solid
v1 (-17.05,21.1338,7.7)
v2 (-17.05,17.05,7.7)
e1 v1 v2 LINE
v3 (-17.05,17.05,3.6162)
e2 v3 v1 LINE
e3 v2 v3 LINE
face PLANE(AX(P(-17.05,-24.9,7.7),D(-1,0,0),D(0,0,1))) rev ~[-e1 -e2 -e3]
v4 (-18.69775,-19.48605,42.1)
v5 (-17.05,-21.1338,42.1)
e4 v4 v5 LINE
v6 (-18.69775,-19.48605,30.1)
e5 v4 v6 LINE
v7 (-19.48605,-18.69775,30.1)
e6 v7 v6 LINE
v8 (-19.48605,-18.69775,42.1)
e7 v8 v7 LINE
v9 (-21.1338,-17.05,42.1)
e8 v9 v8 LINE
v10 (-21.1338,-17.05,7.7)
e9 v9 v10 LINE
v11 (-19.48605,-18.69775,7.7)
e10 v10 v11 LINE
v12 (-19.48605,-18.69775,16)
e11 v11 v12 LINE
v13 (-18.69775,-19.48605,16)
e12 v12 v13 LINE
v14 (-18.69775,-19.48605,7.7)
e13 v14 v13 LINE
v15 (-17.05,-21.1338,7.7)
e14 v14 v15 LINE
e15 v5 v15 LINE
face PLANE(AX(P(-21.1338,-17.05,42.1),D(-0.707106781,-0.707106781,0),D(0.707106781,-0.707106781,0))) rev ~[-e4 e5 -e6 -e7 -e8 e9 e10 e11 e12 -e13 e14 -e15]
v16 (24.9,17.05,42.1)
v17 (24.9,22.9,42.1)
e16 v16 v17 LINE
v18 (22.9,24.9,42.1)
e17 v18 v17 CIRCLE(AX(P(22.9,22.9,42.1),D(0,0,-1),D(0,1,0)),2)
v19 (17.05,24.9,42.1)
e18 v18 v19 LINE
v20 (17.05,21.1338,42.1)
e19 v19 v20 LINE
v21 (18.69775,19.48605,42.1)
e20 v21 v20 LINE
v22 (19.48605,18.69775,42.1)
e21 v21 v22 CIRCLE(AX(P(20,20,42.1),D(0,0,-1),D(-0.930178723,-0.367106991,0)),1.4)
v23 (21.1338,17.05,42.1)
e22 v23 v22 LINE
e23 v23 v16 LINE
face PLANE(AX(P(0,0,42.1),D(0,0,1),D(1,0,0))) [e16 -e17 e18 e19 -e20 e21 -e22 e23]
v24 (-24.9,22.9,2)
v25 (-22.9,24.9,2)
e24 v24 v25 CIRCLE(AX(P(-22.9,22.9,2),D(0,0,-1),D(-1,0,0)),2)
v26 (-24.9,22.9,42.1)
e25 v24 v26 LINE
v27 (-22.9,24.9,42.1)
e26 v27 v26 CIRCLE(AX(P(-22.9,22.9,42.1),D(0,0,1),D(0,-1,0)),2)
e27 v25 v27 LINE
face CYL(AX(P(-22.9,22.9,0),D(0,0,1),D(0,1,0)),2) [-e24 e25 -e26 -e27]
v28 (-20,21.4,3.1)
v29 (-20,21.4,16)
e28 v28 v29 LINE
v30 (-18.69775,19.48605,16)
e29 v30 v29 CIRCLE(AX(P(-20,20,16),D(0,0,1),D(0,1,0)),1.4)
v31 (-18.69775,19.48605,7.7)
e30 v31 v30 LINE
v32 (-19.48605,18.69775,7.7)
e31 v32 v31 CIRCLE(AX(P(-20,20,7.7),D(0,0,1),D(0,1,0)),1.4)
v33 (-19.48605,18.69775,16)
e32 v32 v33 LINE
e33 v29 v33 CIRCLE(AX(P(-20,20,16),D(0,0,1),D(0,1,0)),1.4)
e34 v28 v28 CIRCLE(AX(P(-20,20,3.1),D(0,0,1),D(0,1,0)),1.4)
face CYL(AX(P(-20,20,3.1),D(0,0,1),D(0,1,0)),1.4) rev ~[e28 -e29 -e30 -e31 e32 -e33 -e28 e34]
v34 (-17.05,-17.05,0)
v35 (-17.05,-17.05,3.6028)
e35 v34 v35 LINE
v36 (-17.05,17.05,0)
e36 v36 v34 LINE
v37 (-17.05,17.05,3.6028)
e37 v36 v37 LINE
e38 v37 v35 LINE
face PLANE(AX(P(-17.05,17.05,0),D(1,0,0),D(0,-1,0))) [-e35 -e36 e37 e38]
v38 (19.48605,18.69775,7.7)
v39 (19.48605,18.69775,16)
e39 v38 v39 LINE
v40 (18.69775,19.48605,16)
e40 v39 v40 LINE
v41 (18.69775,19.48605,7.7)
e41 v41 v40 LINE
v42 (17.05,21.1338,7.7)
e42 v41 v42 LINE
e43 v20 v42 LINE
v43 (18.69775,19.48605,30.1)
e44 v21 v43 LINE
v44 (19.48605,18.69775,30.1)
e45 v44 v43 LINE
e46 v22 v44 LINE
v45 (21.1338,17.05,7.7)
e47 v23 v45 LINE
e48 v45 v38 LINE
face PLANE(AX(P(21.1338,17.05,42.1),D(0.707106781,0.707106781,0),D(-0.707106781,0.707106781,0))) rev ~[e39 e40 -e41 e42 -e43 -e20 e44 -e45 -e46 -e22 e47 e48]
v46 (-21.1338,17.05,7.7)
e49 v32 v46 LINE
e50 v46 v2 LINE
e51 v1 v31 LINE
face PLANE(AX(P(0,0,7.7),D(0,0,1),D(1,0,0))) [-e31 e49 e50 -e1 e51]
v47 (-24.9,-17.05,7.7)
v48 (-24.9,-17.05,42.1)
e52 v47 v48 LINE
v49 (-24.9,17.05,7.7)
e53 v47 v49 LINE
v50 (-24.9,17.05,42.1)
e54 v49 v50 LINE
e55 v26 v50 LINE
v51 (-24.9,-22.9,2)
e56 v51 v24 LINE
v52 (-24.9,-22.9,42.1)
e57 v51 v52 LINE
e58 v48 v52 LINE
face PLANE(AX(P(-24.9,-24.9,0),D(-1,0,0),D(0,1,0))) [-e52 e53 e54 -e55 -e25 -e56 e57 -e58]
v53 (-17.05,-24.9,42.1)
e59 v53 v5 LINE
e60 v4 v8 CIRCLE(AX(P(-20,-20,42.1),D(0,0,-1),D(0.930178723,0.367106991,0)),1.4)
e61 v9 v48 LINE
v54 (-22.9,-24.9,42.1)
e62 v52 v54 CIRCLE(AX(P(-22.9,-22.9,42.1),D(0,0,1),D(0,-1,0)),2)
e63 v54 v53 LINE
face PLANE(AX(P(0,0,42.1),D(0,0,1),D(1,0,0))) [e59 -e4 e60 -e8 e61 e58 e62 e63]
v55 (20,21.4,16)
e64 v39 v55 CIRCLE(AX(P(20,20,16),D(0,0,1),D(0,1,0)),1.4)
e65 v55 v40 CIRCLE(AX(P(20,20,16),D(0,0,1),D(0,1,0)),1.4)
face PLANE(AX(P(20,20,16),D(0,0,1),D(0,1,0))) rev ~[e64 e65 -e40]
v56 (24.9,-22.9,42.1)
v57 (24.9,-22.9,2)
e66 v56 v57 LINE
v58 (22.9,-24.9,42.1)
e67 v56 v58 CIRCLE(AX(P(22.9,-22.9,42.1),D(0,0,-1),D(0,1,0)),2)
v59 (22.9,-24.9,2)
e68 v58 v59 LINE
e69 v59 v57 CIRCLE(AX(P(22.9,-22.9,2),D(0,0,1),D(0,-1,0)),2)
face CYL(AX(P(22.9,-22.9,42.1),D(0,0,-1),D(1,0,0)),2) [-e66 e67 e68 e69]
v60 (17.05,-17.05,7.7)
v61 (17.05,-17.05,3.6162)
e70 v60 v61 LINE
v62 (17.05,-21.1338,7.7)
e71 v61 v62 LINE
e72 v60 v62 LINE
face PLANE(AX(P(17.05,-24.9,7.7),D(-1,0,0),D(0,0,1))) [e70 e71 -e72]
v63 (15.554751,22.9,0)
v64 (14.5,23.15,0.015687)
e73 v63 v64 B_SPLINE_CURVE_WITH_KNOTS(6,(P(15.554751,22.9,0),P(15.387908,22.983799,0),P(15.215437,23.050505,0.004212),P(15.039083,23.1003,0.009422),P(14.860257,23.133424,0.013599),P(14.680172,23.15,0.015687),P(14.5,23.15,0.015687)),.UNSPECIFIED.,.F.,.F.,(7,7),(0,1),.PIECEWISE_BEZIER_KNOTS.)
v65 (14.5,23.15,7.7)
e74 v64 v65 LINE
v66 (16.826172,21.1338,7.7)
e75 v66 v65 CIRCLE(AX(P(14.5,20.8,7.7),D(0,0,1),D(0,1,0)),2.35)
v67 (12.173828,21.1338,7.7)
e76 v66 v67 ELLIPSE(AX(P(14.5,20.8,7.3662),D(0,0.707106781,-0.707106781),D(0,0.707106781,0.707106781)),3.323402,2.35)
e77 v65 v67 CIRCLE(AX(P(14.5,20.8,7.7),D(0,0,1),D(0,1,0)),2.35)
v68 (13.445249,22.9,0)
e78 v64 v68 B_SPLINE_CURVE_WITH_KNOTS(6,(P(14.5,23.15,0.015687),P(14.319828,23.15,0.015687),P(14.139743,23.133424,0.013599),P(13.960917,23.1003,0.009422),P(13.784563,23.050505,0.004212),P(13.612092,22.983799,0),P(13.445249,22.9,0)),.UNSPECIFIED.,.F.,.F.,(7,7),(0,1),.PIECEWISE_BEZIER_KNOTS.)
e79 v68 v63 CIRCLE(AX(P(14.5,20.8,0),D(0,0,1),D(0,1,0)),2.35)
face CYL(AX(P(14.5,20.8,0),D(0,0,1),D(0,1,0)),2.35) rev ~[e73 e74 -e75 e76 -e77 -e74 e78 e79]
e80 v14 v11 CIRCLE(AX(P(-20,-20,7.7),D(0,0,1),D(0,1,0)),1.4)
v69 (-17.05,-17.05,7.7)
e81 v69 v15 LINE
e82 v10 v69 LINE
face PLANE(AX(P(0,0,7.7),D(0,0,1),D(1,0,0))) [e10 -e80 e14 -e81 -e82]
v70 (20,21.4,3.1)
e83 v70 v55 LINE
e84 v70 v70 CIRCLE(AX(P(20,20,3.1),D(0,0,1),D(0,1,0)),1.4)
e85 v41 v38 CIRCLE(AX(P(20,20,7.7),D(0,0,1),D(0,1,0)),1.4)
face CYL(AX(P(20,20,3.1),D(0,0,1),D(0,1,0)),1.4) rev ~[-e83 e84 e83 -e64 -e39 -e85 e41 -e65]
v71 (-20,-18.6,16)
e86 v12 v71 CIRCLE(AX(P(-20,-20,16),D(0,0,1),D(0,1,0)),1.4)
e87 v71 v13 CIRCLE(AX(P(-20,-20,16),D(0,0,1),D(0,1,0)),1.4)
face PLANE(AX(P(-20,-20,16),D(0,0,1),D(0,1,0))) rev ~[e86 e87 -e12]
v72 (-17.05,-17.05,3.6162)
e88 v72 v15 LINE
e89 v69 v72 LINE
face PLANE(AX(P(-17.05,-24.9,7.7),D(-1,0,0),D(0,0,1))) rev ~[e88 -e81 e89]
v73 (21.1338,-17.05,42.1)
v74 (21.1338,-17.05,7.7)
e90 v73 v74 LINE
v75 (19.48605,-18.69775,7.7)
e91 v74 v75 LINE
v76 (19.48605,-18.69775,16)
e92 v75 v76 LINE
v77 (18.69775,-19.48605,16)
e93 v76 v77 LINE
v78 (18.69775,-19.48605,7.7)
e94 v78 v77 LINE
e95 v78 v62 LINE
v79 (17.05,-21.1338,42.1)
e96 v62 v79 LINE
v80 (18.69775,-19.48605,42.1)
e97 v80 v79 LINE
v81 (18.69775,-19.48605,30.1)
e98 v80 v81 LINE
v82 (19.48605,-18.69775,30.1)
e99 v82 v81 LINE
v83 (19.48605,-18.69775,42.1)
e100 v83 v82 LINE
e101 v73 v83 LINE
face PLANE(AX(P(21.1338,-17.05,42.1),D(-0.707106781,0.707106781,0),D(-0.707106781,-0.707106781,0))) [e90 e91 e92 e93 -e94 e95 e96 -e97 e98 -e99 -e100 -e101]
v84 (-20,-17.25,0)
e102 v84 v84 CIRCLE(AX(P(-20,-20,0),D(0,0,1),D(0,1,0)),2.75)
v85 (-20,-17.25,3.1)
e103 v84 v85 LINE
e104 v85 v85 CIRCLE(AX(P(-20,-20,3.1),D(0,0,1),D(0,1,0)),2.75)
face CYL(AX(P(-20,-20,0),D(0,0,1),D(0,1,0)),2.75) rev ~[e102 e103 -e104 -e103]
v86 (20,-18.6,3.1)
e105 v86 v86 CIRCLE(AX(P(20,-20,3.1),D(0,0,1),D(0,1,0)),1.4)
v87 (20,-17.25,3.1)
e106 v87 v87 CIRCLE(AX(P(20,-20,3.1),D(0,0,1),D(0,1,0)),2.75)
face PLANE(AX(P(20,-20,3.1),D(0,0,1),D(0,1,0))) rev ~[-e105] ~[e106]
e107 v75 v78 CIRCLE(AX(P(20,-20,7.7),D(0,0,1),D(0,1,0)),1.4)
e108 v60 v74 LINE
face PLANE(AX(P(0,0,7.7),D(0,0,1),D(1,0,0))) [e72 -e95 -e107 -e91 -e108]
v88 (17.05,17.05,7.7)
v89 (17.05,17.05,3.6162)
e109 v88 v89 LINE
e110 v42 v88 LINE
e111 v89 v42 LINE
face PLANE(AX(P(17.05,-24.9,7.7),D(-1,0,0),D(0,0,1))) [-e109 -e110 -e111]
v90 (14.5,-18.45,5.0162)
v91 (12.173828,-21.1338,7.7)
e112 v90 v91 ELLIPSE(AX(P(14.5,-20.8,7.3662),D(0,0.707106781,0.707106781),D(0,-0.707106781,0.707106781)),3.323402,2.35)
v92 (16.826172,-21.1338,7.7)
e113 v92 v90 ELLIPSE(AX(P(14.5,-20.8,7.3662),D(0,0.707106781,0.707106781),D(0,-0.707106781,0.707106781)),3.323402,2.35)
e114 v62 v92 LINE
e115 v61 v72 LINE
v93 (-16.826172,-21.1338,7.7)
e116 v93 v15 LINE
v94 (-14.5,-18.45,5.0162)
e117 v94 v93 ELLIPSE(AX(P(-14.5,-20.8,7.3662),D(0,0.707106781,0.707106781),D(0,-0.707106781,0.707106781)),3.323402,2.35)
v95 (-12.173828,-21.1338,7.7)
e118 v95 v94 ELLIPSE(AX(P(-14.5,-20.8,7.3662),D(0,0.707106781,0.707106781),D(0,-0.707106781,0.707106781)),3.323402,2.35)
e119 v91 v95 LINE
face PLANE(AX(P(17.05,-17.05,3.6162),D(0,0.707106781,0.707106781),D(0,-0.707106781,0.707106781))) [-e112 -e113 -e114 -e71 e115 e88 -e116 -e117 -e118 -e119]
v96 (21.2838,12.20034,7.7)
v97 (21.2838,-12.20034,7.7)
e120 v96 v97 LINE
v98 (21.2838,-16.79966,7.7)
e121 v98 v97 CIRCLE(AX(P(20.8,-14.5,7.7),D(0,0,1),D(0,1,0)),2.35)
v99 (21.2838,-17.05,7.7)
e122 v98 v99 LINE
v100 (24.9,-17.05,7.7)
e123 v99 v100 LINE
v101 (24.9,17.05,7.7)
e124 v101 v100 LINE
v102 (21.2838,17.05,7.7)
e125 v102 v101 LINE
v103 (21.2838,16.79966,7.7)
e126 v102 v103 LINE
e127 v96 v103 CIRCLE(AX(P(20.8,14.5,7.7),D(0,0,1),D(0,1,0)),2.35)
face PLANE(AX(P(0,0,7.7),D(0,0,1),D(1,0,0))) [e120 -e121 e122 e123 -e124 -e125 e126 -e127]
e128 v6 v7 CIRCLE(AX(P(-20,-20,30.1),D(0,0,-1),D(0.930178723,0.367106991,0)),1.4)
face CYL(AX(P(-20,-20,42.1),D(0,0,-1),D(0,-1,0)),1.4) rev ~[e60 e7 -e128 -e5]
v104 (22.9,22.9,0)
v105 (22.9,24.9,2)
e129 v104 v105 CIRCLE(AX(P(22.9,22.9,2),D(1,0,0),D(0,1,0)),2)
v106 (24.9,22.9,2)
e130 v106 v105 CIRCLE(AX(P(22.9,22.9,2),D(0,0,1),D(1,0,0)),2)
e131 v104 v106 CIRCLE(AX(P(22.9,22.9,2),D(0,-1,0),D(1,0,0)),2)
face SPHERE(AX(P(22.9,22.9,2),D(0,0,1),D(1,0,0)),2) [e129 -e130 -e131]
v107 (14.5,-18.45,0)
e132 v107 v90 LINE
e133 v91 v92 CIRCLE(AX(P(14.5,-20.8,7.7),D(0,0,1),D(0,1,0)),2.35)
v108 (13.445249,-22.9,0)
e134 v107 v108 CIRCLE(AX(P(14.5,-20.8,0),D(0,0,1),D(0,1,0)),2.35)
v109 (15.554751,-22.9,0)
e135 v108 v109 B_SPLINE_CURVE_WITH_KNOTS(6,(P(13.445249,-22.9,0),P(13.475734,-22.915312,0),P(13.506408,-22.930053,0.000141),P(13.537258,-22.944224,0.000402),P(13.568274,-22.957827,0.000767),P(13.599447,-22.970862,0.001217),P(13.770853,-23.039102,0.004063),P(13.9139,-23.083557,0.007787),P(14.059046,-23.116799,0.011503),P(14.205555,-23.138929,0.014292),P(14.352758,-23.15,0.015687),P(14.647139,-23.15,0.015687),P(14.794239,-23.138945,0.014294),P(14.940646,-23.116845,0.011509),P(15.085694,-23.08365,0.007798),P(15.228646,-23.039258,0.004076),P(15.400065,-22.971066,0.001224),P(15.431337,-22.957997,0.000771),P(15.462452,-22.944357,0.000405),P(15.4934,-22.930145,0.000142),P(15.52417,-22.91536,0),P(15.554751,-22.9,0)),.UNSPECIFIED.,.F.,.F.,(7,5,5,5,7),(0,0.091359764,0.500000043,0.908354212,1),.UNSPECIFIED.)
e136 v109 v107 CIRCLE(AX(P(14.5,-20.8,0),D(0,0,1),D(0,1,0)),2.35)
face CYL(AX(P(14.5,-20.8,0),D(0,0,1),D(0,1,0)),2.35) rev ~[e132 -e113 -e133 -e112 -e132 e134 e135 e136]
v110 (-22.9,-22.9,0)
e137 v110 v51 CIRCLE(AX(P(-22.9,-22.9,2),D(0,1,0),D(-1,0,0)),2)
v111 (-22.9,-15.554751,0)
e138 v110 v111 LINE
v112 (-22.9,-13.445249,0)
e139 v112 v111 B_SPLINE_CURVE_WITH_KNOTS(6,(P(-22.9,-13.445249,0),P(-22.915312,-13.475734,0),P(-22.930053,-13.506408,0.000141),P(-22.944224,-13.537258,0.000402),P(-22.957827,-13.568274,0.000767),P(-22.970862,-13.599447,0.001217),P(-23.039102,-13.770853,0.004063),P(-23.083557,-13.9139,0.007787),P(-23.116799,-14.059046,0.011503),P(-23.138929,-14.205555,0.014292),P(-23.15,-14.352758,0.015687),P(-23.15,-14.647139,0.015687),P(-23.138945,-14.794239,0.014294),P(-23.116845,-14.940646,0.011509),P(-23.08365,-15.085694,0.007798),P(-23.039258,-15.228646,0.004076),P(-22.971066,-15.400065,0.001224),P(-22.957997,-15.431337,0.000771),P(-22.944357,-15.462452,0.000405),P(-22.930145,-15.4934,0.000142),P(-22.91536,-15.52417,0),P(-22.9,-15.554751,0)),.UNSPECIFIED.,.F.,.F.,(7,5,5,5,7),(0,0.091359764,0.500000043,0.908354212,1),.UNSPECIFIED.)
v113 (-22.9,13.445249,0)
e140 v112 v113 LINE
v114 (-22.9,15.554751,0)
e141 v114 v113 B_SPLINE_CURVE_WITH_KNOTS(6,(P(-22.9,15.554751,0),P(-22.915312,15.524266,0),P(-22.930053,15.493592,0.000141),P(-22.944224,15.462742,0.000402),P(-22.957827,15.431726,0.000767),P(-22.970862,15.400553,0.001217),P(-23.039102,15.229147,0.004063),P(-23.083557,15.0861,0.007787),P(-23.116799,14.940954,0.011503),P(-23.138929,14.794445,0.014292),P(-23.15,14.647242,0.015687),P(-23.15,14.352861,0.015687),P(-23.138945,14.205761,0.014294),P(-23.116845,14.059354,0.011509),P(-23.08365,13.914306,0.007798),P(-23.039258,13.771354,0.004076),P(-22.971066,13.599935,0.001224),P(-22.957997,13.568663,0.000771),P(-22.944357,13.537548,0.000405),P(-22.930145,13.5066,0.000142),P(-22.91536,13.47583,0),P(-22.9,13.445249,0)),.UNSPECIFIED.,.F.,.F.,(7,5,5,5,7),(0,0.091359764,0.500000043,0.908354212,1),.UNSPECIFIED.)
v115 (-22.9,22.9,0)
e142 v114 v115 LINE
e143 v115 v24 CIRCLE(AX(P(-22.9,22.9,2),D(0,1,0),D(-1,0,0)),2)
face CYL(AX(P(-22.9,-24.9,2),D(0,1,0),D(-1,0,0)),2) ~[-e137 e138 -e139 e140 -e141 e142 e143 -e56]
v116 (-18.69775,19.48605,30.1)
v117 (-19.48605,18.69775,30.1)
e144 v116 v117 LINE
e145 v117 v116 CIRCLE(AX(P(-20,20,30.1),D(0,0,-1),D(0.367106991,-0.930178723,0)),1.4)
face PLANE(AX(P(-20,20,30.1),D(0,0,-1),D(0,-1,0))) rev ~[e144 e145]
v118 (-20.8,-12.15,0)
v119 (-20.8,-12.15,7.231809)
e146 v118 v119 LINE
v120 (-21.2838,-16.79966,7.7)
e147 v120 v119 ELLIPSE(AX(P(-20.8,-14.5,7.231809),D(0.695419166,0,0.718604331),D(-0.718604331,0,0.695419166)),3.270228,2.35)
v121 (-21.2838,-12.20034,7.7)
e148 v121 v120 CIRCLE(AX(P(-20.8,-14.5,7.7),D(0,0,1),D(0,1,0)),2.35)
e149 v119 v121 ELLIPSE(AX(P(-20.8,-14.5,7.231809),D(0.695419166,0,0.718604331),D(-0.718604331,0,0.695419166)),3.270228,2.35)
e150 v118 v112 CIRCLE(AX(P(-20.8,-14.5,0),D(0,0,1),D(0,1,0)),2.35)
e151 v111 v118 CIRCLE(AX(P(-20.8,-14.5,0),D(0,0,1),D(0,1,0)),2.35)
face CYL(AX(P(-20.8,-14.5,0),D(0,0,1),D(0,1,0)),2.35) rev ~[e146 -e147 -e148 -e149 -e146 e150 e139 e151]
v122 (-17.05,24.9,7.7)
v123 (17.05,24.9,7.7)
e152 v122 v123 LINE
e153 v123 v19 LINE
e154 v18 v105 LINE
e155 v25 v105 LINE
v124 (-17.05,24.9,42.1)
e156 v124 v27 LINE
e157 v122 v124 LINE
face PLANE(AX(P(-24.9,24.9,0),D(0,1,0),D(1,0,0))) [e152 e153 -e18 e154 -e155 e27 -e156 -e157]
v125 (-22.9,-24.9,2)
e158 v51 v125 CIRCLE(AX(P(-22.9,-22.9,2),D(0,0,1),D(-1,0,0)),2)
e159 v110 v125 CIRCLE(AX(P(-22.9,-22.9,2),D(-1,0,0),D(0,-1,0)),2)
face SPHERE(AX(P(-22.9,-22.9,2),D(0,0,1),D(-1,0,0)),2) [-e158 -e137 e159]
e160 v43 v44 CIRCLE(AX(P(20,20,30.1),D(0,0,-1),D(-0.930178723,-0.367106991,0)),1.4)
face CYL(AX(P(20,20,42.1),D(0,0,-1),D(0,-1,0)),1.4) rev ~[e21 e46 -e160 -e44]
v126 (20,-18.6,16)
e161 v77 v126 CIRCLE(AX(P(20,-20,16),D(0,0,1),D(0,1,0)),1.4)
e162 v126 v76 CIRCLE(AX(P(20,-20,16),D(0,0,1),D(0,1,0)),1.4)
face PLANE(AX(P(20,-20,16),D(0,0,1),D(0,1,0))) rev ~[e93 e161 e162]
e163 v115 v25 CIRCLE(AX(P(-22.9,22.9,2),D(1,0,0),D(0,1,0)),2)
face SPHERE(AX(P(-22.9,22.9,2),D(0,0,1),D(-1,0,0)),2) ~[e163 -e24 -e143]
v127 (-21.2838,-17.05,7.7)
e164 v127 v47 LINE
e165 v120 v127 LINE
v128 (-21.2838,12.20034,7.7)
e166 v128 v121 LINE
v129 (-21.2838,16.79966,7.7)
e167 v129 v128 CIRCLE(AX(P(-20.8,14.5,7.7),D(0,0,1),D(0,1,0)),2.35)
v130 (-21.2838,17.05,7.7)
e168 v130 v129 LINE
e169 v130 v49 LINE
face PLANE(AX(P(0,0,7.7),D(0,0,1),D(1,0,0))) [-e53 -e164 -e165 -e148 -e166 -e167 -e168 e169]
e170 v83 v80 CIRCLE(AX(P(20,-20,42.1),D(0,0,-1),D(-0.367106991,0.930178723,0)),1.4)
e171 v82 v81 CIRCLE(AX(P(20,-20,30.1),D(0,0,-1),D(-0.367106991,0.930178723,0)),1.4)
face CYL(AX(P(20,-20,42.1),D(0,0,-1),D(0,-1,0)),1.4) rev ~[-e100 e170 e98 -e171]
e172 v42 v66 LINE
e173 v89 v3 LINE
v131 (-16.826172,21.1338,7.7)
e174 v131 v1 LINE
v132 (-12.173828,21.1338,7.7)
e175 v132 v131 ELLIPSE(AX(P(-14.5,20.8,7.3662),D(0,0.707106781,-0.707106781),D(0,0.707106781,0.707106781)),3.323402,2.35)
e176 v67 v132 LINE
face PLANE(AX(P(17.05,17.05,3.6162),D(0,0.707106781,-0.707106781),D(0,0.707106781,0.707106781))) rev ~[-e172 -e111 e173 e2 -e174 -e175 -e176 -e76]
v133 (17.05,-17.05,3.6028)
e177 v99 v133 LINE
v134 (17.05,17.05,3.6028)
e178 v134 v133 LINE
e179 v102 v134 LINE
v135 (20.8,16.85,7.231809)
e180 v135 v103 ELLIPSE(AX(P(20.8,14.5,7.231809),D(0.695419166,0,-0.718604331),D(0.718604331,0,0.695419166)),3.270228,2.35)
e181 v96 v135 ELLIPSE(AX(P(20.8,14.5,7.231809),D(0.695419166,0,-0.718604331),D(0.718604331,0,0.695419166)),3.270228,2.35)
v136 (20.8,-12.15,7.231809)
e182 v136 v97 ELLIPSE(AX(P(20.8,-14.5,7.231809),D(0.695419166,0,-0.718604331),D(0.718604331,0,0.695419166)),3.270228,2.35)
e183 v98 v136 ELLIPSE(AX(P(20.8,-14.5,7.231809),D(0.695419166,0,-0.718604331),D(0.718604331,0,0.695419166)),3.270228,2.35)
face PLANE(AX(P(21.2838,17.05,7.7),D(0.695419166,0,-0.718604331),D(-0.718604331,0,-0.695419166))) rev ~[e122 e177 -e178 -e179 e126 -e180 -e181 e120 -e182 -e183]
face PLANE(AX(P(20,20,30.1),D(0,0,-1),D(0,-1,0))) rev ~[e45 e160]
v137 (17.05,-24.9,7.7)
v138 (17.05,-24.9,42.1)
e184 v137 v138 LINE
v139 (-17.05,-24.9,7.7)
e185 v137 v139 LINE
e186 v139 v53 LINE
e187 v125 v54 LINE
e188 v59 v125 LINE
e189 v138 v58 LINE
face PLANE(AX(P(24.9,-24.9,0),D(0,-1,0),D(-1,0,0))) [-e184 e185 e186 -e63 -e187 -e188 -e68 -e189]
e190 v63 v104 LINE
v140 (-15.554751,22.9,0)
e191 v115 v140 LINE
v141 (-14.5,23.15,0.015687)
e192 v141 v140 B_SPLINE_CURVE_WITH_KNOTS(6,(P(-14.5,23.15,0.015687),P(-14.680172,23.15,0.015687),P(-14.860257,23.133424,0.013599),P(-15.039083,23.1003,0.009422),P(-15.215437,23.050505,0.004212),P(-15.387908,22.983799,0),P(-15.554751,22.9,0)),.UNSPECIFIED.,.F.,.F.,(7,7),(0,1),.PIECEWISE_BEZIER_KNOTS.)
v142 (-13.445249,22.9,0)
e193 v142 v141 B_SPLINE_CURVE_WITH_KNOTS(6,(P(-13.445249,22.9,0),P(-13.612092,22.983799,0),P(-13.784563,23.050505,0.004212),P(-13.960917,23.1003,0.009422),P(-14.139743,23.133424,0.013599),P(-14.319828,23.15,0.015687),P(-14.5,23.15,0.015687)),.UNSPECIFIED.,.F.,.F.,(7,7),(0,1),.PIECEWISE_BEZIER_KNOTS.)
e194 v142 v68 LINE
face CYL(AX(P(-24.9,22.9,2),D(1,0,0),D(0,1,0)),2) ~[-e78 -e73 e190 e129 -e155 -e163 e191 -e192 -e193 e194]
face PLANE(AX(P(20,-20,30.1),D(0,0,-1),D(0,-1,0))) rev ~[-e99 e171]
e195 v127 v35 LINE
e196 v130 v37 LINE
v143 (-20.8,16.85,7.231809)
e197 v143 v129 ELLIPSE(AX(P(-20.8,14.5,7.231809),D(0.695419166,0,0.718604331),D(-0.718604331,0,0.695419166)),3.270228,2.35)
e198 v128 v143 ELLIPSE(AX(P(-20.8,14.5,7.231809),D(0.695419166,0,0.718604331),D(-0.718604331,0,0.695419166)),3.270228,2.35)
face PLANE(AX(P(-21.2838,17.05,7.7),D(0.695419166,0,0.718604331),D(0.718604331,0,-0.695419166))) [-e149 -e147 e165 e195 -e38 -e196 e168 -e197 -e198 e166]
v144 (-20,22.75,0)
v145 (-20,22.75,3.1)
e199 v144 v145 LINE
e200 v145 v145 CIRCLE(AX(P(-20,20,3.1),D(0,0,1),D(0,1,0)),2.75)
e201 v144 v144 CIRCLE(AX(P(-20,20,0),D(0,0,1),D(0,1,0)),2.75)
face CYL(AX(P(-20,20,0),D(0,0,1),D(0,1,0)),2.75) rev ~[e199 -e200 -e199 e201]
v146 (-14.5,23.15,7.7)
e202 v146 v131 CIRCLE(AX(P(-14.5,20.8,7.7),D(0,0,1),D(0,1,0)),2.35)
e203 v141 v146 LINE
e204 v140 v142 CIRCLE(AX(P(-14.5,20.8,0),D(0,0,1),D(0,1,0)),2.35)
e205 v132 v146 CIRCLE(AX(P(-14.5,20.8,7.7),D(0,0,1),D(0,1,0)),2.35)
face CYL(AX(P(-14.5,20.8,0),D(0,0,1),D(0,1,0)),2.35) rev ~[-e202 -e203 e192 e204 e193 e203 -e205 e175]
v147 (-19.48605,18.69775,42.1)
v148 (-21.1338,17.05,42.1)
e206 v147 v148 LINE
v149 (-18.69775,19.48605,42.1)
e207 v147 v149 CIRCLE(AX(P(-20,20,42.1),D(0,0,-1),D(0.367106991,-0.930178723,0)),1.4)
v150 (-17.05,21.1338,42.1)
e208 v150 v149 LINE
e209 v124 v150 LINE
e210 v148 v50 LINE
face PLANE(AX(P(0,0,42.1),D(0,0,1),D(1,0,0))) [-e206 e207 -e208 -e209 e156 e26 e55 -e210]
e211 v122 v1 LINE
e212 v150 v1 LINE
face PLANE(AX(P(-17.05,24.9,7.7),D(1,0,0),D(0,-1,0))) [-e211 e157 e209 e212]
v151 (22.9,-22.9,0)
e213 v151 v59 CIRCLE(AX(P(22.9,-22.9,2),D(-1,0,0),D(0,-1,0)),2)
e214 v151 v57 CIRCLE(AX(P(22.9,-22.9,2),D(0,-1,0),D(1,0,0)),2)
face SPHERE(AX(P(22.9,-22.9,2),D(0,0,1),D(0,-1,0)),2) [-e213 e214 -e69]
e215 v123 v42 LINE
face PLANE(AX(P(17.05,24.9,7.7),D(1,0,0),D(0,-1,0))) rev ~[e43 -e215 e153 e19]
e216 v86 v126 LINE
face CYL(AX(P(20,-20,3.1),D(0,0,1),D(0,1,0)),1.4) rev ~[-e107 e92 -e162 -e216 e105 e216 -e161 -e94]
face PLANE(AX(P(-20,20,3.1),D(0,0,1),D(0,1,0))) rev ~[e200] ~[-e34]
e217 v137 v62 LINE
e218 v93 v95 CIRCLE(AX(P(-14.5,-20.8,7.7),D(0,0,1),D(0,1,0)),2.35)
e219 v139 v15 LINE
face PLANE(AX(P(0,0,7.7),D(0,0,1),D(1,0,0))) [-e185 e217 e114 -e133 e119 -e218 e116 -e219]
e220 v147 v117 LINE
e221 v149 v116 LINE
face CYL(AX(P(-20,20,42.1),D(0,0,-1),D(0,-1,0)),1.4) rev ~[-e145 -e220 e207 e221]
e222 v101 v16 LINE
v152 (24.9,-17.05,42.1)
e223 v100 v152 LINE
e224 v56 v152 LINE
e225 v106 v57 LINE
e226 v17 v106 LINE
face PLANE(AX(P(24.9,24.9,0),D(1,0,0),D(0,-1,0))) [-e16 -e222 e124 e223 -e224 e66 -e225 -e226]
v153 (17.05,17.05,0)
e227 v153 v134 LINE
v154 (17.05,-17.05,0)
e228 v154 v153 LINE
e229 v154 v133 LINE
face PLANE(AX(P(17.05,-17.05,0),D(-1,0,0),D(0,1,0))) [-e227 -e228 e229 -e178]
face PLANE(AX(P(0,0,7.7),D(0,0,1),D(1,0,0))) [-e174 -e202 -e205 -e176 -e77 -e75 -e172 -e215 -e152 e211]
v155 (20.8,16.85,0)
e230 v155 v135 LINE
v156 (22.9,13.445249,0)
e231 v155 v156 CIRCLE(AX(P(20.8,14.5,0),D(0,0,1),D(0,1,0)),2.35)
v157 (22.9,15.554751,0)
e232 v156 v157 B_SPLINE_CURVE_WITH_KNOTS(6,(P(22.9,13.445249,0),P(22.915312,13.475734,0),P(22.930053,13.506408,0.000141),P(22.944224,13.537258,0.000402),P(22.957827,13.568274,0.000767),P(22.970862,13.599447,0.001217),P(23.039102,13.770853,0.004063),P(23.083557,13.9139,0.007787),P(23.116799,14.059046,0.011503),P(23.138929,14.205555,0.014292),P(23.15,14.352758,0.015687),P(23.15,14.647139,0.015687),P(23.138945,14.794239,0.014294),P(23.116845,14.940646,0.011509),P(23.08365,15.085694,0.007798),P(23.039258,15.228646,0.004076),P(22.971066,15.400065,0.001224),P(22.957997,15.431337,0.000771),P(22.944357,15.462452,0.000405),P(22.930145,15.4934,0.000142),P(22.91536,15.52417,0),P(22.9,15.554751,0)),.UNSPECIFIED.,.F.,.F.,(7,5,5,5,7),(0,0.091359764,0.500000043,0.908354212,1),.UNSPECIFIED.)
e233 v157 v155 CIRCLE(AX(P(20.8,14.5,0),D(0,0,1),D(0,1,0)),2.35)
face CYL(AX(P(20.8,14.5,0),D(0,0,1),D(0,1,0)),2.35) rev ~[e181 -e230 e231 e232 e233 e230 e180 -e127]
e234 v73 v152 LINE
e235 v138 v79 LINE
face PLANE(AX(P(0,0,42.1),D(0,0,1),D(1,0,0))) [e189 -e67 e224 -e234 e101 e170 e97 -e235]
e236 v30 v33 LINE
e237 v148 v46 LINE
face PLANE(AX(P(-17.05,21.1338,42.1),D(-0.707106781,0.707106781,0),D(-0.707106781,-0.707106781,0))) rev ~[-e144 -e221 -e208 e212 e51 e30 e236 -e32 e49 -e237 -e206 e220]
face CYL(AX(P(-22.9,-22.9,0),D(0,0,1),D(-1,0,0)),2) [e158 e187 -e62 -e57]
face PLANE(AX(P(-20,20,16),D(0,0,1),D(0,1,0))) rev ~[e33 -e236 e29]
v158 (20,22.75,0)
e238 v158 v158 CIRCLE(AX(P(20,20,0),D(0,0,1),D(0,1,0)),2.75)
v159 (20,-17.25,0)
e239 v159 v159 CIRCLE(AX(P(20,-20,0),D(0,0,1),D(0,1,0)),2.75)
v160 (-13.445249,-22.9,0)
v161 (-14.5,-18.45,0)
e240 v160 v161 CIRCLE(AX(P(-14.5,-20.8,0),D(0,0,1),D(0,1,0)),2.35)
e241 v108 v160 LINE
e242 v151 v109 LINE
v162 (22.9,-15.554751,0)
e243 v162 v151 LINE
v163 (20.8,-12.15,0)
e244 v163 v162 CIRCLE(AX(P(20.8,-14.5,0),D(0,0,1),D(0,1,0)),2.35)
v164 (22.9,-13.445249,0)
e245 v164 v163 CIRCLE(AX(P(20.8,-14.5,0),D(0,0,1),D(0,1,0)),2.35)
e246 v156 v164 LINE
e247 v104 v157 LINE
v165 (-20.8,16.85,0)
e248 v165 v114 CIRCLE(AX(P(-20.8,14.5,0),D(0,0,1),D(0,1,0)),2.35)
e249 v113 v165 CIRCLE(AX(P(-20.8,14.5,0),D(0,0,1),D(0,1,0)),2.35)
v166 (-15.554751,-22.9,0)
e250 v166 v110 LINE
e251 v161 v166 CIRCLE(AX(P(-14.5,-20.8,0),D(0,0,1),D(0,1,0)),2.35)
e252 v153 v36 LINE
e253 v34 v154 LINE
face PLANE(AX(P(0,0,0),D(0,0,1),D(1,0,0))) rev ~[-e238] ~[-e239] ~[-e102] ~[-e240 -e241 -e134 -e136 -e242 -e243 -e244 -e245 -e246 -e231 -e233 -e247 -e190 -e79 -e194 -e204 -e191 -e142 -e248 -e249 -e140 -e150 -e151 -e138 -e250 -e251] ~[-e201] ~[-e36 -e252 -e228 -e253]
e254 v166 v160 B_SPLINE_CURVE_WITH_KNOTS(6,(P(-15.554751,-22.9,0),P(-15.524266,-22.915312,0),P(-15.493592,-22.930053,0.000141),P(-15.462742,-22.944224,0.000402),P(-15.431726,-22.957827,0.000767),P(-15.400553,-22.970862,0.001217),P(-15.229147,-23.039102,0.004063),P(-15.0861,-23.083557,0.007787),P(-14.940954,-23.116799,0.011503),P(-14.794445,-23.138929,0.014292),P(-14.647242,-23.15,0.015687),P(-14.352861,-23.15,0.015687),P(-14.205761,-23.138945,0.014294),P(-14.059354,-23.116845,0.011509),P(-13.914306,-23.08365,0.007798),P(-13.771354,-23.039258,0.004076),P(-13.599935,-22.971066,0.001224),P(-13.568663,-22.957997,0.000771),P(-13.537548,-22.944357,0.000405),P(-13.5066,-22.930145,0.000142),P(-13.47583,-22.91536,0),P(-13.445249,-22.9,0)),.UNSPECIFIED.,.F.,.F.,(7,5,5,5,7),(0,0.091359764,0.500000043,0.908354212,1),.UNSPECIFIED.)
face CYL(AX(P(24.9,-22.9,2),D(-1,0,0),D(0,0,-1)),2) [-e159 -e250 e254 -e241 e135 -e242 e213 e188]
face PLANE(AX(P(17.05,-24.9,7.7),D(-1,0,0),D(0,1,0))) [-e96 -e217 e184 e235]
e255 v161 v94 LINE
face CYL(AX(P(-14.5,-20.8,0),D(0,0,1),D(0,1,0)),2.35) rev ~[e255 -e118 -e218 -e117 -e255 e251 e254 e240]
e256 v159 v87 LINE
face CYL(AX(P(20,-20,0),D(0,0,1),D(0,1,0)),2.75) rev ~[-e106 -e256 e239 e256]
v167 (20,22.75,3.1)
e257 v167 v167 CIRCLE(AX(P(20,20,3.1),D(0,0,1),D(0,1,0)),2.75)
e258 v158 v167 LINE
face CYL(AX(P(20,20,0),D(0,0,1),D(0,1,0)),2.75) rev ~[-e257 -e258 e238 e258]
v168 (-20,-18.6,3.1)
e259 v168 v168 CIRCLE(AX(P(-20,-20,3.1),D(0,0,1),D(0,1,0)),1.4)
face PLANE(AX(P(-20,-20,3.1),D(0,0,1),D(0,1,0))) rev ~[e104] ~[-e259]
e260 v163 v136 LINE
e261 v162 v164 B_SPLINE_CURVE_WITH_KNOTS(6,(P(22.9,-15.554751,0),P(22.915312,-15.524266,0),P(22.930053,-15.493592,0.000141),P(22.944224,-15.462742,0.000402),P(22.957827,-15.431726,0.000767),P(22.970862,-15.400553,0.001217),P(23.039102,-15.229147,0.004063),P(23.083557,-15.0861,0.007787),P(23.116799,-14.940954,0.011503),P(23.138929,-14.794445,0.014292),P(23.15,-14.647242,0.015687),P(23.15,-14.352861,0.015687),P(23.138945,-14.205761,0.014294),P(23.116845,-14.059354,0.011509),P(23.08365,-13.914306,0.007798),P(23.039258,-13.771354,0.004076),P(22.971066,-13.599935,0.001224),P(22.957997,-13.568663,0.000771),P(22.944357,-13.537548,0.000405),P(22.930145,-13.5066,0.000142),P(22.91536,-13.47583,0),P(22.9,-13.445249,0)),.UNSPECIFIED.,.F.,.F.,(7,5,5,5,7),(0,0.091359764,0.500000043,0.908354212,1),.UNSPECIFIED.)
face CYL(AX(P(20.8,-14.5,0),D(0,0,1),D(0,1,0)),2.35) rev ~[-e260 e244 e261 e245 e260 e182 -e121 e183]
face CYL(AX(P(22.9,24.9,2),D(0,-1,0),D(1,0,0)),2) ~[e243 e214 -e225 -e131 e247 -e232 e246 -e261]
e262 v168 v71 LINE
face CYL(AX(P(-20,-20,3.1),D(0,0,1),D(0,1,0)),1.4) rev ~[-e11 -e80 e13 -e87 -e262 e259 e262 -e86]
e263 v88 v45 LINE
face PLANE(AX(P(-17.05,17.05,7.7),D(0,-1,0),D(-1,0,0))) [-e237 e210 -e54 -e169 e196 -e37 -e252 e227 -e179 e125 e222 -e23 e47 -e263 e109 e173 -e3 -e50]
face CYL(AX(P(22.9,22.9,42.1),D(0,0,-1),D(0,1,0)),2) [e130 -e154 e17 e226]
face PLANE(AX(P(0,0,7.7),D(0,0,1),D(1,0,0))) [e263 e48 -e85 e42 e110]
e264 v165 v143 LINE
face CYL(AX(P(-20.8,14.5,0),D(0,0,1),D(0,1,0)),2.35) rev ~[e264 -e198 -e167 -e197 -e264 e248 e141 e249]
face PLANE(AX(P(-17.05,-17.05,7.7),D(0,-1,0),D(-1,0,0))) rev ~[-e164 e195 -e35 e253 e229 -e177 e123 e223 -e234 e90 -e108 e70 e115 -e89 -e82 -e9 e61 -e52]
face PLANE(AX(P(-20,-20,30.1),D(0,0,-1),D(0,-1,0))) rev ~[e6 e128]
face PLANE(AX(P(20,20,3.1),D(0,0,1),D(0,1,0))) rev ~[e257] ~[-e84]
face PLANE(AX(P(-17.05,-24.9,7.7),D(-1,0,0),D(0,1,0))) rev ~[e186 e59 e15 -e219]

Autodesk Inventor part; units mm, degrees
ref_plane "YZ Plane" through (0, 0, 0) normal (1, 0, 0) x (0, 1, 0)
ref_plane "XZ Plane" through (0, 0, 0) normal (0, 1, 0) x (-1, 0, 0)
ref_plane "XY Plane" through (0, 0, 0) normal (0, 0, 1) x (1, 0, 0)
sketch "Sketch1" plane through (0, 0, 0) normal (0, 0, 1) x (1, 0, 0)
  line L0 (-24.9, 24.9) -> (24.9, 24.9)
  line L1 (24.9, 24.9) -> (24.9, -24.9)
  line L2 (24.9, -24.9) -> (-24.9, -24.9)
  line L3 (-24.9, -24.9) -> (-24.9, 24.9)
  line L4 (-24.9, 24.9) -> (24.9, -24.9) construction
  line L5 (24.9, 24.9) -> (-24.9, -24.9) construction
  line L6 (17.05, 17.05) -> (-17.05, 17.05)
  line L7 (-17.05, 17.05) -> (-17.05, -17.05)
  line L8 (-17.05, -17.05) -> (17.05, -17.05)
  line L9 (17.05, -17.05) -> (17.05, 17.05)
  point P0 (0, 0)
  dimension "d0" = 49.8
  dimension "d1" = 49.8
  dimension "d2" = 7.85
extrude "Extrusion1" add sketch "Sketch1" along normal blind 7.7
sketch "Sketch2" plane through (0, 0, 7.7) normal (0, 0, 1) x (1, 0, 0)
  line L0 (17.05, 17.05) -> (17.05, -17.05) projected
  line L1 (17.05, -17.05) -> (-17.05, -17.05) projected
  line L2 (-17.05, -17.05) -> (-17.05, 17.05) projected
  line L3 (-17.05, 17.05) -> (17.05, 17.05) projected
  line L4 (24.9, 24.9) -> (-24.9, 24.9) projected
  line L5 (-24.9, 24.9) -> (-24.9, -24.9) projected
  line L6 (-24.9, -24.9) -> (24.9, -24.9) projected
  line L7 (24.9, -24.9) -> (24.9, 24.9) projected
  line L8 (17.05, -17.05) -> (24.9, -17.05)
  line L9 (24.9, -17.05) -> (24.9, -24.9)
  line L10 (24.9, -24.9) -> (17.05, -24.9)
  line L11 (17.05, -24.9) -> (17.05, -17.05)
  line L12 (17.05, 17.05) -> (-17.05, 17.05) projected
  line L13 (24.9, 24.9) -> (17.05, 24.9)
  line L14 (17.05, 24.9) -> (17.05, 17.05)
  line L15 (17.05, 17.05) -> (24.9, 17.05)
  line L16 (24.9, 17.05) -> (24.9, 24.9)
  line L17 (-24.9, -24.9) -> (-17.05, -24.9)
  line L18 (-17.05, -24.9) -> (-17.05, -17.05)
  line L19 (-17.05, -17.05) -> (-24.9, -17.05)
  line L20 (-24.9, -17.05) -> (-24.9, -24.9)
  line L21 (-24.9, 24.9) -> (-17.05, 24.9)
  line L22 (-17.05, 24.9) -> (-17.05, 17.05)
  line L23 (-17.05, 17.05) -> (-24.9, 17.05)
  line L24 (-24.9, 17.05) -> (-24.9, 24.9)
  point P0 (0, 0)
extrude "Extrusion2" add sketch "Sketch2" along normal blind 34.4 contours L14 L4 L7 L15 | L8 L7 L6 L11 | L23 L5 L4 L22 | L18 L6 L5 L19
sketch "Sketch3" plane through (0, 0, 0) normal (0, 0, -1) x (-1, 0, 0)
  line L0 (24.9, -24.9) -> (24.9, 24.9) construction
  line L1 (24.9, 24.9) -> (-24.9, 24.9) construction
  line L2 (-24.9, -24.9) -> (24.9, -24.9) construction
  line L3 (-24.9, 24.9) -> (-24.9, -24.9) construction
  point P0 (20, 20)
  point P1 (20, -20)
  point P2 (-20, -20)
  point P3 (-20, 20)
  dimension "d_1" = 4.9
  dimension "d96" = 4.9
  dimension "d97" = 4.9
  dimension "d98" = 4.9
  dimension "d99" = 4.9
  dimension "d100" = 4.9
  dimension "d101" = 4.9
  dimension "d102" = 4.9
hole "Hole1" at (-20, 20, 0) at (-20, -20, 0) at (20, -20, 0) at (20, 20, 0) direction (0, 0, 1) diameter 2.8 depth 16 counterbore diameter 5.5 counterbore depth 3.1
fillet "Fillet1" radius 2 8 edges at (24.9, 24.9, 21.05) (24.9, -24.9, 21.05) (-24.9, -24.9, 21.05) (-24.9, 24.9, 21.05) (-24.9, 0, 0) (0, -24.9, 0) (24.9, 0, 0) (0, 24.9, 0)
sketch "Sketch6" plane through (0, 0, 42.1) normal (0, 0, 1) x (1, 0, 0)
  arc A0 (-22.9, 24.9) -> (-24.9, 22.9) centre (-22.9, 22.9) ccw projected
  line L0 (-24.9, 22.9) -> (-24.9, 17.05) projected
  line L1 (-24.9, 17.05) -> (-17.05, 17.05) projected
  line L2 (-17.05, 17.05) -> (-17.05, 24.9) projected
  line L3 (-17.05, 24.9) -> (-22.9, 24.9) projected
  arc A1 (24.9, 22.9) -> (22.9, 24.9) centre (22.9, 22.9) ccw projected
  line L4 (22.9, 24.9) -> (17.05, 24.9) projected
  line L5 (17.05, 24.9) -> (17.05, 17.05) projected
  line L6 (17.05, 17.05) -> (24.9, 17.05) projected
  line L7 (24.9, 17.05) -> (24.9, 22.9) projected
  arc A2 (22.9, -24.9) -> (24.9, -22.9) centre (22.9, -22.9) ccw projected
  line L8 (24.9, -22.9) -> (24.9, -17.05) projected
  line L9 (24.9, -17.05) -> (17.05, -17.05) projected
  line L10 (17.05, -17.05) -> (17.05, -24.9) projected
  line L11 (17.05, -24.9) -> (22.9, -24.9) projected
  arc A3 (-24.9, -22.9) -> (-22.9, -24.9) centre (-22.9, -22.9) ccw projected
  line L12 (-22.9, -24.9) -> (-17.05, -24.9) projected
  line L13 (-17.05, -24.9) -> (-17.05, -17.05) projected
  line L14 (-17.05, -17.05) -> (-24.9, -17.05) projected
  line L15 (-24.9, -17.05) -> (-24.9, -22.9) projected
  line L16 (0, 38.1838) -> (54, 38.1838) construction
  line L17 (21.1338, 17.05) -> (17.05, 21.1338)
  line L18 (17.05, 24.9) -> (17.05, 17.05) projected
  line L19 (17.05, 21.1338) -> (17.05, 17.05)
  line L20 (17.05, 17.05) -> (21.1338, 17.05)
  line L21 (-17.05, 24.9) -> (-17.05, 17.05) projected
  line L22 (-17.05, 17.05) -> (-17.05, 21.1338)
  line L23 (-17.05, 21.1338) -> (-21.1338, 17.05)
  line L24 (-17.05, 21.1338) -> (-11.2747, 21.1338) construction
  line L25 (-17.05, -17.05) -> (-17.05, 17.05) projected
  line L26 (-21.1338, 17.05) -> (-17.05, 17.05)
  line L27 (-17.05, 17.05) -> (-21.1338, 17.05)
  line L28 (17.05, -17.05) -> (17.05, -24.9) projected
  line L29 (17.05, -17.05) -> (21.1338, -17.05)
  line L30 (24.9, -17.05) -> (17.05, -17.05) projected
  line L31 (21.1338, -17.05) -> (17.05, -21.1338)
  line L32 (17.05, -17.05) -> (17.05, -21.1338)
  line L33 (-17.05, -17.05) -> (-21.1338, -17.05)
  line L34 (-17.05, -17.05) -> (-17.05, -24.9) projected
  line L35 (-17.05, -17.05) -> (-17.05, -21.1338)
  line L36 (-21.1338, -17.05) -> (-17.05, -21.1338)
  line L37 (22.9, 22.9) -> (24.9, 22.9) construction
  line L38 (-22.9, -22.9) -> (22.9, 22.9) construction
  line L39 (-22.9, -22.9) -> (22.9, -22.9) construction
  line L40 (22.9, 22.9) -> (-22.9, 22.9) construction
  line L41 (22.9, -22.9) -> (-22.9, 22.9) construction
  dimension "d111" = 0
  dimension "d120" = 54
  dimension "d121" = 54
extrude "Extrusion3" cut sketch "Sketch6" against normal up to surface (34.4 mm away) contours L13 L36 L14 | L2 L1 L23 | L6 L5 L17 | L10 L9 L31
sketch "Sketch7" plane through (-24.9, 17.05, 7.7) normal (0, -1, 0) x (1, 0, 0)
  line L0 (41.95, 0) -> (49.95, 0) construction
  line L1 (41.95, -7.7) -> (41.95, 0) construction
  line L2 (7.85, -7.7) -> (7.85, 0) construction
  line L3 (-0.15, 0) -> (7.85, 0) construction
  line L4 (41.9235, 33.7204) -> (41.95, 0) construction
  line L5 (7.85, 0) -> (7.8764, 33.5861) construction
  line L6 (41.95, 0) -> (7.85, 0) construction
  circle A0 centre (24.9, 17.0366) radius 17.0366 construction
  line L7 (24.9, 55.2203) -> (-13.2838, 17.0366) construction
  line L8 (-13.2838, 17.0366) -> (24.9, -21.1472) construction
  line L9 (24.9, -21.1472) -> (63.0838, 17.0366) construction
  line L10 (63.0838, 17.0366) -> (24.9, 55.2203) construction
  line L11 (24.9, 55.2203) -> (24.9, -21.1472) construction
  line L12 (-13.2838, 17.0366) -> (63.0838, 17.0366) construction
  line L13 (24.9, 55.2203) -> (78.9, 55.2203) construction
  line L14 (46.1838, 0) -> (41.95, 0)
  line L15 (46.1838, 0) -> (41.95, -4.0972)
  line L16 (41.95, 0) -> (41.9235, 33.7204)
  line L17 (41.95, 0) -> (41.95, -4.0972)
  line L18 (46.1838, 0) -> (41.95, 0)
  line L19 (41.95, 0) -> (46.1838, 0)
  line L20 (7.85, 0) -> (3.6162, 0)
  line L21 (3.6162, 0) -> (7.85, -4.0972)
  line L22 (7.85, -4.0972) -> (7.85, 0)
  line L23 (24.9, -36.4773) -> (24.9, 70.8333) projected
  point P0 (44.386, 0)
  point P1 (43.5978, 0)
  point P2 (24.9, 17.0366)
  dimension "d37" = 54
  dimension "d38" = 135
  dimension "d39" = 54
extrude "Extrusion4" cut sketch "Sketch7" along normal up to surface (34.1 mm away)
sketch "Sketch8" plane through (17.05, -24.9, 7.7) normal (-1, 0, 0) x (0, 0, 1)
  line L0 (-4.0838, 41.95) -> (0, 41.95) construction
  line L1 (-4.0838, 7.85) -> (0.1503, 7.85) construction
  line L2 (0.1503, 7.85) -> (0.1503, 3.6159) construction
  line L3 (-4.0838, 7.85) -> (0.1503, 3.6159)
  line L4 (0.1503, 3.6159) -> (0.1503, 7.85)
  line L5 (0.1503, 7.85) -> (-4.0838, 7.85)
  line L6 (-4.0838, 41.95) -> (0, 46.0338)
  line L7 (-4.0838, 41.95) -> (1.6916, 41.95) construction
  line L8 (0.1503, 7.85) -> (0, 41.95)
  line L9 (0, 46.0338) -> (0, 41.95)
  line L10 (0, 41.95) -> (-4.0838, 41.95)
  line L11 (-6, 2) -> (-6, 47.8)
  line L12 (55.2338, 24.9) -> (17.05, 63.0838) construction
  line L13 (17.05, 63.0838) -> (-21.1338, 24.9) construction
  line L14 (-21.1338, 24.9) -> (17.05, -13.2838) construction
  line L15 (17.05, -13.2838) -> (55.2338, 24.9) construction
  line L16 (55.2338, 24.9) -> (-21.1338, 24.9) construction
  line L17 (17.05, 63.0838) -> (17.05, -13.2838) construction
  line L18 (-36.2573, 24.9) -> (70.6573, 24.9) construction
  line L19 (17.05, -28.5573) -> (17.05, 78.3573) construction
  line L20 (0, 41.95) -> (0, 43.5978) construction
  line L21 (0, 7.85) -> (-4.0972, 7.85) construction
  line L22 (-4.0972, 41.95) -> (-4.0972, 7.85) construction
  line L23 (0, 41.95) -> (-4.0972, 41.95) construction
  line L24 (0, 7.85) -> (0, 41.95) construction
  point P0 (-2.4341, 8)
  point P1 (0, 5.414)
  point P2 (17.05, 24.9)
  point P3 (17.05, 24.9)
  point P4 (17.05, 24.9)
  dimension "d122" = 54
  dimension "d123" = 54
extrude "Extrusion5" cut sketch "Sketch8" along normal up to surface (34.1 mm away)
sketch "Sketch9" plane through (0, 0, 42.1) normal (0, 0, 1) x (1, 0, 0)
  arc A0 (19.486, 18.6978) -> (18.6978, 19.486) centre (20, 20) ccw projected
  arc A1 (18.6978, -19.486) -> (19.486, -18.6978) centre (20, -20) ccw projected
  arc A2 (-19.486, -18.6978) -> (-18.6978, -19.486) centre (-20, -20) ccw projected
  arc A3 (-18.6978, 19.486) -> (-19.486, 18.6978) centre (-20, 20) ccw projected
hole "Hole2" at (20, 20, 42.1) at (-20, 20, 42.1) at (20, -20, 42.1) at (-20, -20, 42.1) direction (0, 0, -1) diameter 2.8 depth 12
sketch "Sketch15" plane through (0, 0, 0) normal (0, 0, -1) x (-1, 0, 0)
  line L0 (-17.05, -17.05) -> (-17.05, 17.05) construction
  line L1 (-17.05, 17.05) -> (17.05, 17.05) construction
  line L2 (17.05, 17.05) -> (17.05, -17.05) construction
  line L3 (17.05, -17.05) -> (-17.05, -17.05) construction
  circle A0 centre (-20, 20) radius 2.75 construction
  circle A1 centre (20, -20) radius 2.75 construction
  circle A2 centre (20, 20) radius 2.75 construction
  circle A3 centre (-20, -20) radius 2.75 construction
  line L4 (-22.9, 22.9) -> (22.9, 22.9) construction
  line L5 (-22.9, -22.9) -> (-22.9, 22.9) construction
  line L6 (22.9, -22.9) -> (-22.9, -22.9) construction
  line L7 (22.9, 22.9) -> (22.9, -22.9) construction
  line L8 (17.05, 21.1338) -> (-17.05, 21.1338) construction
  point P0 (0, 0)
  point P1 (-20.8, -14.5)
  point P2 (-14.5, -20.8)
  point P3 (14.5, -20.8)
  point P4 (20.8, -14.5)
  point P5 (20.8, 14.5)
  point P6 (14.5, 20.8)
  point P7 (-14.5, 20.8)
  point P8 (-20.8, 14.5)
hole "Hole8" at (14.5, -20.8, 0) at (20.8, -14.5, 0) at (-14.5, -20.8, 0) at (-20.8, -14.5, 0) at (-20.8, 14.5, 0) at (-14.5, 20.8, 0) at (14.5, 20.8, 0) at (20.8, 14.5, 0) direction (0, 0, 1) diameter 4.7 end through all
ref_plane "Arbeitsebene2" through (24.9, 0, 0) normal (-0.7071, 0, -0.7071) x (0, 1, 0)
ref_plane "Arbeitsebene3" through (0, -17.05, 7.7) normal (1, 0, 0) x (0, 0, -1)
ref_plane "Work Plane4" through (-17.05, 0, 7.7) normal (0, 1, 0) x (1, 0, 0)
equation "\"d1\" = d0"
equation "\"d96\" = d_1"
equation "\"d97\" = d_1"
equation "\"d98\" = d_1"
equation "\"d99\" = d_1"
equation "\"d100\" = d_1"
equation "\"d101\" = d_1"
equation "\"d102\" = d_1"
equation "\"d121\" = d120"
properties part number "10_Cube_1x1_v3"
